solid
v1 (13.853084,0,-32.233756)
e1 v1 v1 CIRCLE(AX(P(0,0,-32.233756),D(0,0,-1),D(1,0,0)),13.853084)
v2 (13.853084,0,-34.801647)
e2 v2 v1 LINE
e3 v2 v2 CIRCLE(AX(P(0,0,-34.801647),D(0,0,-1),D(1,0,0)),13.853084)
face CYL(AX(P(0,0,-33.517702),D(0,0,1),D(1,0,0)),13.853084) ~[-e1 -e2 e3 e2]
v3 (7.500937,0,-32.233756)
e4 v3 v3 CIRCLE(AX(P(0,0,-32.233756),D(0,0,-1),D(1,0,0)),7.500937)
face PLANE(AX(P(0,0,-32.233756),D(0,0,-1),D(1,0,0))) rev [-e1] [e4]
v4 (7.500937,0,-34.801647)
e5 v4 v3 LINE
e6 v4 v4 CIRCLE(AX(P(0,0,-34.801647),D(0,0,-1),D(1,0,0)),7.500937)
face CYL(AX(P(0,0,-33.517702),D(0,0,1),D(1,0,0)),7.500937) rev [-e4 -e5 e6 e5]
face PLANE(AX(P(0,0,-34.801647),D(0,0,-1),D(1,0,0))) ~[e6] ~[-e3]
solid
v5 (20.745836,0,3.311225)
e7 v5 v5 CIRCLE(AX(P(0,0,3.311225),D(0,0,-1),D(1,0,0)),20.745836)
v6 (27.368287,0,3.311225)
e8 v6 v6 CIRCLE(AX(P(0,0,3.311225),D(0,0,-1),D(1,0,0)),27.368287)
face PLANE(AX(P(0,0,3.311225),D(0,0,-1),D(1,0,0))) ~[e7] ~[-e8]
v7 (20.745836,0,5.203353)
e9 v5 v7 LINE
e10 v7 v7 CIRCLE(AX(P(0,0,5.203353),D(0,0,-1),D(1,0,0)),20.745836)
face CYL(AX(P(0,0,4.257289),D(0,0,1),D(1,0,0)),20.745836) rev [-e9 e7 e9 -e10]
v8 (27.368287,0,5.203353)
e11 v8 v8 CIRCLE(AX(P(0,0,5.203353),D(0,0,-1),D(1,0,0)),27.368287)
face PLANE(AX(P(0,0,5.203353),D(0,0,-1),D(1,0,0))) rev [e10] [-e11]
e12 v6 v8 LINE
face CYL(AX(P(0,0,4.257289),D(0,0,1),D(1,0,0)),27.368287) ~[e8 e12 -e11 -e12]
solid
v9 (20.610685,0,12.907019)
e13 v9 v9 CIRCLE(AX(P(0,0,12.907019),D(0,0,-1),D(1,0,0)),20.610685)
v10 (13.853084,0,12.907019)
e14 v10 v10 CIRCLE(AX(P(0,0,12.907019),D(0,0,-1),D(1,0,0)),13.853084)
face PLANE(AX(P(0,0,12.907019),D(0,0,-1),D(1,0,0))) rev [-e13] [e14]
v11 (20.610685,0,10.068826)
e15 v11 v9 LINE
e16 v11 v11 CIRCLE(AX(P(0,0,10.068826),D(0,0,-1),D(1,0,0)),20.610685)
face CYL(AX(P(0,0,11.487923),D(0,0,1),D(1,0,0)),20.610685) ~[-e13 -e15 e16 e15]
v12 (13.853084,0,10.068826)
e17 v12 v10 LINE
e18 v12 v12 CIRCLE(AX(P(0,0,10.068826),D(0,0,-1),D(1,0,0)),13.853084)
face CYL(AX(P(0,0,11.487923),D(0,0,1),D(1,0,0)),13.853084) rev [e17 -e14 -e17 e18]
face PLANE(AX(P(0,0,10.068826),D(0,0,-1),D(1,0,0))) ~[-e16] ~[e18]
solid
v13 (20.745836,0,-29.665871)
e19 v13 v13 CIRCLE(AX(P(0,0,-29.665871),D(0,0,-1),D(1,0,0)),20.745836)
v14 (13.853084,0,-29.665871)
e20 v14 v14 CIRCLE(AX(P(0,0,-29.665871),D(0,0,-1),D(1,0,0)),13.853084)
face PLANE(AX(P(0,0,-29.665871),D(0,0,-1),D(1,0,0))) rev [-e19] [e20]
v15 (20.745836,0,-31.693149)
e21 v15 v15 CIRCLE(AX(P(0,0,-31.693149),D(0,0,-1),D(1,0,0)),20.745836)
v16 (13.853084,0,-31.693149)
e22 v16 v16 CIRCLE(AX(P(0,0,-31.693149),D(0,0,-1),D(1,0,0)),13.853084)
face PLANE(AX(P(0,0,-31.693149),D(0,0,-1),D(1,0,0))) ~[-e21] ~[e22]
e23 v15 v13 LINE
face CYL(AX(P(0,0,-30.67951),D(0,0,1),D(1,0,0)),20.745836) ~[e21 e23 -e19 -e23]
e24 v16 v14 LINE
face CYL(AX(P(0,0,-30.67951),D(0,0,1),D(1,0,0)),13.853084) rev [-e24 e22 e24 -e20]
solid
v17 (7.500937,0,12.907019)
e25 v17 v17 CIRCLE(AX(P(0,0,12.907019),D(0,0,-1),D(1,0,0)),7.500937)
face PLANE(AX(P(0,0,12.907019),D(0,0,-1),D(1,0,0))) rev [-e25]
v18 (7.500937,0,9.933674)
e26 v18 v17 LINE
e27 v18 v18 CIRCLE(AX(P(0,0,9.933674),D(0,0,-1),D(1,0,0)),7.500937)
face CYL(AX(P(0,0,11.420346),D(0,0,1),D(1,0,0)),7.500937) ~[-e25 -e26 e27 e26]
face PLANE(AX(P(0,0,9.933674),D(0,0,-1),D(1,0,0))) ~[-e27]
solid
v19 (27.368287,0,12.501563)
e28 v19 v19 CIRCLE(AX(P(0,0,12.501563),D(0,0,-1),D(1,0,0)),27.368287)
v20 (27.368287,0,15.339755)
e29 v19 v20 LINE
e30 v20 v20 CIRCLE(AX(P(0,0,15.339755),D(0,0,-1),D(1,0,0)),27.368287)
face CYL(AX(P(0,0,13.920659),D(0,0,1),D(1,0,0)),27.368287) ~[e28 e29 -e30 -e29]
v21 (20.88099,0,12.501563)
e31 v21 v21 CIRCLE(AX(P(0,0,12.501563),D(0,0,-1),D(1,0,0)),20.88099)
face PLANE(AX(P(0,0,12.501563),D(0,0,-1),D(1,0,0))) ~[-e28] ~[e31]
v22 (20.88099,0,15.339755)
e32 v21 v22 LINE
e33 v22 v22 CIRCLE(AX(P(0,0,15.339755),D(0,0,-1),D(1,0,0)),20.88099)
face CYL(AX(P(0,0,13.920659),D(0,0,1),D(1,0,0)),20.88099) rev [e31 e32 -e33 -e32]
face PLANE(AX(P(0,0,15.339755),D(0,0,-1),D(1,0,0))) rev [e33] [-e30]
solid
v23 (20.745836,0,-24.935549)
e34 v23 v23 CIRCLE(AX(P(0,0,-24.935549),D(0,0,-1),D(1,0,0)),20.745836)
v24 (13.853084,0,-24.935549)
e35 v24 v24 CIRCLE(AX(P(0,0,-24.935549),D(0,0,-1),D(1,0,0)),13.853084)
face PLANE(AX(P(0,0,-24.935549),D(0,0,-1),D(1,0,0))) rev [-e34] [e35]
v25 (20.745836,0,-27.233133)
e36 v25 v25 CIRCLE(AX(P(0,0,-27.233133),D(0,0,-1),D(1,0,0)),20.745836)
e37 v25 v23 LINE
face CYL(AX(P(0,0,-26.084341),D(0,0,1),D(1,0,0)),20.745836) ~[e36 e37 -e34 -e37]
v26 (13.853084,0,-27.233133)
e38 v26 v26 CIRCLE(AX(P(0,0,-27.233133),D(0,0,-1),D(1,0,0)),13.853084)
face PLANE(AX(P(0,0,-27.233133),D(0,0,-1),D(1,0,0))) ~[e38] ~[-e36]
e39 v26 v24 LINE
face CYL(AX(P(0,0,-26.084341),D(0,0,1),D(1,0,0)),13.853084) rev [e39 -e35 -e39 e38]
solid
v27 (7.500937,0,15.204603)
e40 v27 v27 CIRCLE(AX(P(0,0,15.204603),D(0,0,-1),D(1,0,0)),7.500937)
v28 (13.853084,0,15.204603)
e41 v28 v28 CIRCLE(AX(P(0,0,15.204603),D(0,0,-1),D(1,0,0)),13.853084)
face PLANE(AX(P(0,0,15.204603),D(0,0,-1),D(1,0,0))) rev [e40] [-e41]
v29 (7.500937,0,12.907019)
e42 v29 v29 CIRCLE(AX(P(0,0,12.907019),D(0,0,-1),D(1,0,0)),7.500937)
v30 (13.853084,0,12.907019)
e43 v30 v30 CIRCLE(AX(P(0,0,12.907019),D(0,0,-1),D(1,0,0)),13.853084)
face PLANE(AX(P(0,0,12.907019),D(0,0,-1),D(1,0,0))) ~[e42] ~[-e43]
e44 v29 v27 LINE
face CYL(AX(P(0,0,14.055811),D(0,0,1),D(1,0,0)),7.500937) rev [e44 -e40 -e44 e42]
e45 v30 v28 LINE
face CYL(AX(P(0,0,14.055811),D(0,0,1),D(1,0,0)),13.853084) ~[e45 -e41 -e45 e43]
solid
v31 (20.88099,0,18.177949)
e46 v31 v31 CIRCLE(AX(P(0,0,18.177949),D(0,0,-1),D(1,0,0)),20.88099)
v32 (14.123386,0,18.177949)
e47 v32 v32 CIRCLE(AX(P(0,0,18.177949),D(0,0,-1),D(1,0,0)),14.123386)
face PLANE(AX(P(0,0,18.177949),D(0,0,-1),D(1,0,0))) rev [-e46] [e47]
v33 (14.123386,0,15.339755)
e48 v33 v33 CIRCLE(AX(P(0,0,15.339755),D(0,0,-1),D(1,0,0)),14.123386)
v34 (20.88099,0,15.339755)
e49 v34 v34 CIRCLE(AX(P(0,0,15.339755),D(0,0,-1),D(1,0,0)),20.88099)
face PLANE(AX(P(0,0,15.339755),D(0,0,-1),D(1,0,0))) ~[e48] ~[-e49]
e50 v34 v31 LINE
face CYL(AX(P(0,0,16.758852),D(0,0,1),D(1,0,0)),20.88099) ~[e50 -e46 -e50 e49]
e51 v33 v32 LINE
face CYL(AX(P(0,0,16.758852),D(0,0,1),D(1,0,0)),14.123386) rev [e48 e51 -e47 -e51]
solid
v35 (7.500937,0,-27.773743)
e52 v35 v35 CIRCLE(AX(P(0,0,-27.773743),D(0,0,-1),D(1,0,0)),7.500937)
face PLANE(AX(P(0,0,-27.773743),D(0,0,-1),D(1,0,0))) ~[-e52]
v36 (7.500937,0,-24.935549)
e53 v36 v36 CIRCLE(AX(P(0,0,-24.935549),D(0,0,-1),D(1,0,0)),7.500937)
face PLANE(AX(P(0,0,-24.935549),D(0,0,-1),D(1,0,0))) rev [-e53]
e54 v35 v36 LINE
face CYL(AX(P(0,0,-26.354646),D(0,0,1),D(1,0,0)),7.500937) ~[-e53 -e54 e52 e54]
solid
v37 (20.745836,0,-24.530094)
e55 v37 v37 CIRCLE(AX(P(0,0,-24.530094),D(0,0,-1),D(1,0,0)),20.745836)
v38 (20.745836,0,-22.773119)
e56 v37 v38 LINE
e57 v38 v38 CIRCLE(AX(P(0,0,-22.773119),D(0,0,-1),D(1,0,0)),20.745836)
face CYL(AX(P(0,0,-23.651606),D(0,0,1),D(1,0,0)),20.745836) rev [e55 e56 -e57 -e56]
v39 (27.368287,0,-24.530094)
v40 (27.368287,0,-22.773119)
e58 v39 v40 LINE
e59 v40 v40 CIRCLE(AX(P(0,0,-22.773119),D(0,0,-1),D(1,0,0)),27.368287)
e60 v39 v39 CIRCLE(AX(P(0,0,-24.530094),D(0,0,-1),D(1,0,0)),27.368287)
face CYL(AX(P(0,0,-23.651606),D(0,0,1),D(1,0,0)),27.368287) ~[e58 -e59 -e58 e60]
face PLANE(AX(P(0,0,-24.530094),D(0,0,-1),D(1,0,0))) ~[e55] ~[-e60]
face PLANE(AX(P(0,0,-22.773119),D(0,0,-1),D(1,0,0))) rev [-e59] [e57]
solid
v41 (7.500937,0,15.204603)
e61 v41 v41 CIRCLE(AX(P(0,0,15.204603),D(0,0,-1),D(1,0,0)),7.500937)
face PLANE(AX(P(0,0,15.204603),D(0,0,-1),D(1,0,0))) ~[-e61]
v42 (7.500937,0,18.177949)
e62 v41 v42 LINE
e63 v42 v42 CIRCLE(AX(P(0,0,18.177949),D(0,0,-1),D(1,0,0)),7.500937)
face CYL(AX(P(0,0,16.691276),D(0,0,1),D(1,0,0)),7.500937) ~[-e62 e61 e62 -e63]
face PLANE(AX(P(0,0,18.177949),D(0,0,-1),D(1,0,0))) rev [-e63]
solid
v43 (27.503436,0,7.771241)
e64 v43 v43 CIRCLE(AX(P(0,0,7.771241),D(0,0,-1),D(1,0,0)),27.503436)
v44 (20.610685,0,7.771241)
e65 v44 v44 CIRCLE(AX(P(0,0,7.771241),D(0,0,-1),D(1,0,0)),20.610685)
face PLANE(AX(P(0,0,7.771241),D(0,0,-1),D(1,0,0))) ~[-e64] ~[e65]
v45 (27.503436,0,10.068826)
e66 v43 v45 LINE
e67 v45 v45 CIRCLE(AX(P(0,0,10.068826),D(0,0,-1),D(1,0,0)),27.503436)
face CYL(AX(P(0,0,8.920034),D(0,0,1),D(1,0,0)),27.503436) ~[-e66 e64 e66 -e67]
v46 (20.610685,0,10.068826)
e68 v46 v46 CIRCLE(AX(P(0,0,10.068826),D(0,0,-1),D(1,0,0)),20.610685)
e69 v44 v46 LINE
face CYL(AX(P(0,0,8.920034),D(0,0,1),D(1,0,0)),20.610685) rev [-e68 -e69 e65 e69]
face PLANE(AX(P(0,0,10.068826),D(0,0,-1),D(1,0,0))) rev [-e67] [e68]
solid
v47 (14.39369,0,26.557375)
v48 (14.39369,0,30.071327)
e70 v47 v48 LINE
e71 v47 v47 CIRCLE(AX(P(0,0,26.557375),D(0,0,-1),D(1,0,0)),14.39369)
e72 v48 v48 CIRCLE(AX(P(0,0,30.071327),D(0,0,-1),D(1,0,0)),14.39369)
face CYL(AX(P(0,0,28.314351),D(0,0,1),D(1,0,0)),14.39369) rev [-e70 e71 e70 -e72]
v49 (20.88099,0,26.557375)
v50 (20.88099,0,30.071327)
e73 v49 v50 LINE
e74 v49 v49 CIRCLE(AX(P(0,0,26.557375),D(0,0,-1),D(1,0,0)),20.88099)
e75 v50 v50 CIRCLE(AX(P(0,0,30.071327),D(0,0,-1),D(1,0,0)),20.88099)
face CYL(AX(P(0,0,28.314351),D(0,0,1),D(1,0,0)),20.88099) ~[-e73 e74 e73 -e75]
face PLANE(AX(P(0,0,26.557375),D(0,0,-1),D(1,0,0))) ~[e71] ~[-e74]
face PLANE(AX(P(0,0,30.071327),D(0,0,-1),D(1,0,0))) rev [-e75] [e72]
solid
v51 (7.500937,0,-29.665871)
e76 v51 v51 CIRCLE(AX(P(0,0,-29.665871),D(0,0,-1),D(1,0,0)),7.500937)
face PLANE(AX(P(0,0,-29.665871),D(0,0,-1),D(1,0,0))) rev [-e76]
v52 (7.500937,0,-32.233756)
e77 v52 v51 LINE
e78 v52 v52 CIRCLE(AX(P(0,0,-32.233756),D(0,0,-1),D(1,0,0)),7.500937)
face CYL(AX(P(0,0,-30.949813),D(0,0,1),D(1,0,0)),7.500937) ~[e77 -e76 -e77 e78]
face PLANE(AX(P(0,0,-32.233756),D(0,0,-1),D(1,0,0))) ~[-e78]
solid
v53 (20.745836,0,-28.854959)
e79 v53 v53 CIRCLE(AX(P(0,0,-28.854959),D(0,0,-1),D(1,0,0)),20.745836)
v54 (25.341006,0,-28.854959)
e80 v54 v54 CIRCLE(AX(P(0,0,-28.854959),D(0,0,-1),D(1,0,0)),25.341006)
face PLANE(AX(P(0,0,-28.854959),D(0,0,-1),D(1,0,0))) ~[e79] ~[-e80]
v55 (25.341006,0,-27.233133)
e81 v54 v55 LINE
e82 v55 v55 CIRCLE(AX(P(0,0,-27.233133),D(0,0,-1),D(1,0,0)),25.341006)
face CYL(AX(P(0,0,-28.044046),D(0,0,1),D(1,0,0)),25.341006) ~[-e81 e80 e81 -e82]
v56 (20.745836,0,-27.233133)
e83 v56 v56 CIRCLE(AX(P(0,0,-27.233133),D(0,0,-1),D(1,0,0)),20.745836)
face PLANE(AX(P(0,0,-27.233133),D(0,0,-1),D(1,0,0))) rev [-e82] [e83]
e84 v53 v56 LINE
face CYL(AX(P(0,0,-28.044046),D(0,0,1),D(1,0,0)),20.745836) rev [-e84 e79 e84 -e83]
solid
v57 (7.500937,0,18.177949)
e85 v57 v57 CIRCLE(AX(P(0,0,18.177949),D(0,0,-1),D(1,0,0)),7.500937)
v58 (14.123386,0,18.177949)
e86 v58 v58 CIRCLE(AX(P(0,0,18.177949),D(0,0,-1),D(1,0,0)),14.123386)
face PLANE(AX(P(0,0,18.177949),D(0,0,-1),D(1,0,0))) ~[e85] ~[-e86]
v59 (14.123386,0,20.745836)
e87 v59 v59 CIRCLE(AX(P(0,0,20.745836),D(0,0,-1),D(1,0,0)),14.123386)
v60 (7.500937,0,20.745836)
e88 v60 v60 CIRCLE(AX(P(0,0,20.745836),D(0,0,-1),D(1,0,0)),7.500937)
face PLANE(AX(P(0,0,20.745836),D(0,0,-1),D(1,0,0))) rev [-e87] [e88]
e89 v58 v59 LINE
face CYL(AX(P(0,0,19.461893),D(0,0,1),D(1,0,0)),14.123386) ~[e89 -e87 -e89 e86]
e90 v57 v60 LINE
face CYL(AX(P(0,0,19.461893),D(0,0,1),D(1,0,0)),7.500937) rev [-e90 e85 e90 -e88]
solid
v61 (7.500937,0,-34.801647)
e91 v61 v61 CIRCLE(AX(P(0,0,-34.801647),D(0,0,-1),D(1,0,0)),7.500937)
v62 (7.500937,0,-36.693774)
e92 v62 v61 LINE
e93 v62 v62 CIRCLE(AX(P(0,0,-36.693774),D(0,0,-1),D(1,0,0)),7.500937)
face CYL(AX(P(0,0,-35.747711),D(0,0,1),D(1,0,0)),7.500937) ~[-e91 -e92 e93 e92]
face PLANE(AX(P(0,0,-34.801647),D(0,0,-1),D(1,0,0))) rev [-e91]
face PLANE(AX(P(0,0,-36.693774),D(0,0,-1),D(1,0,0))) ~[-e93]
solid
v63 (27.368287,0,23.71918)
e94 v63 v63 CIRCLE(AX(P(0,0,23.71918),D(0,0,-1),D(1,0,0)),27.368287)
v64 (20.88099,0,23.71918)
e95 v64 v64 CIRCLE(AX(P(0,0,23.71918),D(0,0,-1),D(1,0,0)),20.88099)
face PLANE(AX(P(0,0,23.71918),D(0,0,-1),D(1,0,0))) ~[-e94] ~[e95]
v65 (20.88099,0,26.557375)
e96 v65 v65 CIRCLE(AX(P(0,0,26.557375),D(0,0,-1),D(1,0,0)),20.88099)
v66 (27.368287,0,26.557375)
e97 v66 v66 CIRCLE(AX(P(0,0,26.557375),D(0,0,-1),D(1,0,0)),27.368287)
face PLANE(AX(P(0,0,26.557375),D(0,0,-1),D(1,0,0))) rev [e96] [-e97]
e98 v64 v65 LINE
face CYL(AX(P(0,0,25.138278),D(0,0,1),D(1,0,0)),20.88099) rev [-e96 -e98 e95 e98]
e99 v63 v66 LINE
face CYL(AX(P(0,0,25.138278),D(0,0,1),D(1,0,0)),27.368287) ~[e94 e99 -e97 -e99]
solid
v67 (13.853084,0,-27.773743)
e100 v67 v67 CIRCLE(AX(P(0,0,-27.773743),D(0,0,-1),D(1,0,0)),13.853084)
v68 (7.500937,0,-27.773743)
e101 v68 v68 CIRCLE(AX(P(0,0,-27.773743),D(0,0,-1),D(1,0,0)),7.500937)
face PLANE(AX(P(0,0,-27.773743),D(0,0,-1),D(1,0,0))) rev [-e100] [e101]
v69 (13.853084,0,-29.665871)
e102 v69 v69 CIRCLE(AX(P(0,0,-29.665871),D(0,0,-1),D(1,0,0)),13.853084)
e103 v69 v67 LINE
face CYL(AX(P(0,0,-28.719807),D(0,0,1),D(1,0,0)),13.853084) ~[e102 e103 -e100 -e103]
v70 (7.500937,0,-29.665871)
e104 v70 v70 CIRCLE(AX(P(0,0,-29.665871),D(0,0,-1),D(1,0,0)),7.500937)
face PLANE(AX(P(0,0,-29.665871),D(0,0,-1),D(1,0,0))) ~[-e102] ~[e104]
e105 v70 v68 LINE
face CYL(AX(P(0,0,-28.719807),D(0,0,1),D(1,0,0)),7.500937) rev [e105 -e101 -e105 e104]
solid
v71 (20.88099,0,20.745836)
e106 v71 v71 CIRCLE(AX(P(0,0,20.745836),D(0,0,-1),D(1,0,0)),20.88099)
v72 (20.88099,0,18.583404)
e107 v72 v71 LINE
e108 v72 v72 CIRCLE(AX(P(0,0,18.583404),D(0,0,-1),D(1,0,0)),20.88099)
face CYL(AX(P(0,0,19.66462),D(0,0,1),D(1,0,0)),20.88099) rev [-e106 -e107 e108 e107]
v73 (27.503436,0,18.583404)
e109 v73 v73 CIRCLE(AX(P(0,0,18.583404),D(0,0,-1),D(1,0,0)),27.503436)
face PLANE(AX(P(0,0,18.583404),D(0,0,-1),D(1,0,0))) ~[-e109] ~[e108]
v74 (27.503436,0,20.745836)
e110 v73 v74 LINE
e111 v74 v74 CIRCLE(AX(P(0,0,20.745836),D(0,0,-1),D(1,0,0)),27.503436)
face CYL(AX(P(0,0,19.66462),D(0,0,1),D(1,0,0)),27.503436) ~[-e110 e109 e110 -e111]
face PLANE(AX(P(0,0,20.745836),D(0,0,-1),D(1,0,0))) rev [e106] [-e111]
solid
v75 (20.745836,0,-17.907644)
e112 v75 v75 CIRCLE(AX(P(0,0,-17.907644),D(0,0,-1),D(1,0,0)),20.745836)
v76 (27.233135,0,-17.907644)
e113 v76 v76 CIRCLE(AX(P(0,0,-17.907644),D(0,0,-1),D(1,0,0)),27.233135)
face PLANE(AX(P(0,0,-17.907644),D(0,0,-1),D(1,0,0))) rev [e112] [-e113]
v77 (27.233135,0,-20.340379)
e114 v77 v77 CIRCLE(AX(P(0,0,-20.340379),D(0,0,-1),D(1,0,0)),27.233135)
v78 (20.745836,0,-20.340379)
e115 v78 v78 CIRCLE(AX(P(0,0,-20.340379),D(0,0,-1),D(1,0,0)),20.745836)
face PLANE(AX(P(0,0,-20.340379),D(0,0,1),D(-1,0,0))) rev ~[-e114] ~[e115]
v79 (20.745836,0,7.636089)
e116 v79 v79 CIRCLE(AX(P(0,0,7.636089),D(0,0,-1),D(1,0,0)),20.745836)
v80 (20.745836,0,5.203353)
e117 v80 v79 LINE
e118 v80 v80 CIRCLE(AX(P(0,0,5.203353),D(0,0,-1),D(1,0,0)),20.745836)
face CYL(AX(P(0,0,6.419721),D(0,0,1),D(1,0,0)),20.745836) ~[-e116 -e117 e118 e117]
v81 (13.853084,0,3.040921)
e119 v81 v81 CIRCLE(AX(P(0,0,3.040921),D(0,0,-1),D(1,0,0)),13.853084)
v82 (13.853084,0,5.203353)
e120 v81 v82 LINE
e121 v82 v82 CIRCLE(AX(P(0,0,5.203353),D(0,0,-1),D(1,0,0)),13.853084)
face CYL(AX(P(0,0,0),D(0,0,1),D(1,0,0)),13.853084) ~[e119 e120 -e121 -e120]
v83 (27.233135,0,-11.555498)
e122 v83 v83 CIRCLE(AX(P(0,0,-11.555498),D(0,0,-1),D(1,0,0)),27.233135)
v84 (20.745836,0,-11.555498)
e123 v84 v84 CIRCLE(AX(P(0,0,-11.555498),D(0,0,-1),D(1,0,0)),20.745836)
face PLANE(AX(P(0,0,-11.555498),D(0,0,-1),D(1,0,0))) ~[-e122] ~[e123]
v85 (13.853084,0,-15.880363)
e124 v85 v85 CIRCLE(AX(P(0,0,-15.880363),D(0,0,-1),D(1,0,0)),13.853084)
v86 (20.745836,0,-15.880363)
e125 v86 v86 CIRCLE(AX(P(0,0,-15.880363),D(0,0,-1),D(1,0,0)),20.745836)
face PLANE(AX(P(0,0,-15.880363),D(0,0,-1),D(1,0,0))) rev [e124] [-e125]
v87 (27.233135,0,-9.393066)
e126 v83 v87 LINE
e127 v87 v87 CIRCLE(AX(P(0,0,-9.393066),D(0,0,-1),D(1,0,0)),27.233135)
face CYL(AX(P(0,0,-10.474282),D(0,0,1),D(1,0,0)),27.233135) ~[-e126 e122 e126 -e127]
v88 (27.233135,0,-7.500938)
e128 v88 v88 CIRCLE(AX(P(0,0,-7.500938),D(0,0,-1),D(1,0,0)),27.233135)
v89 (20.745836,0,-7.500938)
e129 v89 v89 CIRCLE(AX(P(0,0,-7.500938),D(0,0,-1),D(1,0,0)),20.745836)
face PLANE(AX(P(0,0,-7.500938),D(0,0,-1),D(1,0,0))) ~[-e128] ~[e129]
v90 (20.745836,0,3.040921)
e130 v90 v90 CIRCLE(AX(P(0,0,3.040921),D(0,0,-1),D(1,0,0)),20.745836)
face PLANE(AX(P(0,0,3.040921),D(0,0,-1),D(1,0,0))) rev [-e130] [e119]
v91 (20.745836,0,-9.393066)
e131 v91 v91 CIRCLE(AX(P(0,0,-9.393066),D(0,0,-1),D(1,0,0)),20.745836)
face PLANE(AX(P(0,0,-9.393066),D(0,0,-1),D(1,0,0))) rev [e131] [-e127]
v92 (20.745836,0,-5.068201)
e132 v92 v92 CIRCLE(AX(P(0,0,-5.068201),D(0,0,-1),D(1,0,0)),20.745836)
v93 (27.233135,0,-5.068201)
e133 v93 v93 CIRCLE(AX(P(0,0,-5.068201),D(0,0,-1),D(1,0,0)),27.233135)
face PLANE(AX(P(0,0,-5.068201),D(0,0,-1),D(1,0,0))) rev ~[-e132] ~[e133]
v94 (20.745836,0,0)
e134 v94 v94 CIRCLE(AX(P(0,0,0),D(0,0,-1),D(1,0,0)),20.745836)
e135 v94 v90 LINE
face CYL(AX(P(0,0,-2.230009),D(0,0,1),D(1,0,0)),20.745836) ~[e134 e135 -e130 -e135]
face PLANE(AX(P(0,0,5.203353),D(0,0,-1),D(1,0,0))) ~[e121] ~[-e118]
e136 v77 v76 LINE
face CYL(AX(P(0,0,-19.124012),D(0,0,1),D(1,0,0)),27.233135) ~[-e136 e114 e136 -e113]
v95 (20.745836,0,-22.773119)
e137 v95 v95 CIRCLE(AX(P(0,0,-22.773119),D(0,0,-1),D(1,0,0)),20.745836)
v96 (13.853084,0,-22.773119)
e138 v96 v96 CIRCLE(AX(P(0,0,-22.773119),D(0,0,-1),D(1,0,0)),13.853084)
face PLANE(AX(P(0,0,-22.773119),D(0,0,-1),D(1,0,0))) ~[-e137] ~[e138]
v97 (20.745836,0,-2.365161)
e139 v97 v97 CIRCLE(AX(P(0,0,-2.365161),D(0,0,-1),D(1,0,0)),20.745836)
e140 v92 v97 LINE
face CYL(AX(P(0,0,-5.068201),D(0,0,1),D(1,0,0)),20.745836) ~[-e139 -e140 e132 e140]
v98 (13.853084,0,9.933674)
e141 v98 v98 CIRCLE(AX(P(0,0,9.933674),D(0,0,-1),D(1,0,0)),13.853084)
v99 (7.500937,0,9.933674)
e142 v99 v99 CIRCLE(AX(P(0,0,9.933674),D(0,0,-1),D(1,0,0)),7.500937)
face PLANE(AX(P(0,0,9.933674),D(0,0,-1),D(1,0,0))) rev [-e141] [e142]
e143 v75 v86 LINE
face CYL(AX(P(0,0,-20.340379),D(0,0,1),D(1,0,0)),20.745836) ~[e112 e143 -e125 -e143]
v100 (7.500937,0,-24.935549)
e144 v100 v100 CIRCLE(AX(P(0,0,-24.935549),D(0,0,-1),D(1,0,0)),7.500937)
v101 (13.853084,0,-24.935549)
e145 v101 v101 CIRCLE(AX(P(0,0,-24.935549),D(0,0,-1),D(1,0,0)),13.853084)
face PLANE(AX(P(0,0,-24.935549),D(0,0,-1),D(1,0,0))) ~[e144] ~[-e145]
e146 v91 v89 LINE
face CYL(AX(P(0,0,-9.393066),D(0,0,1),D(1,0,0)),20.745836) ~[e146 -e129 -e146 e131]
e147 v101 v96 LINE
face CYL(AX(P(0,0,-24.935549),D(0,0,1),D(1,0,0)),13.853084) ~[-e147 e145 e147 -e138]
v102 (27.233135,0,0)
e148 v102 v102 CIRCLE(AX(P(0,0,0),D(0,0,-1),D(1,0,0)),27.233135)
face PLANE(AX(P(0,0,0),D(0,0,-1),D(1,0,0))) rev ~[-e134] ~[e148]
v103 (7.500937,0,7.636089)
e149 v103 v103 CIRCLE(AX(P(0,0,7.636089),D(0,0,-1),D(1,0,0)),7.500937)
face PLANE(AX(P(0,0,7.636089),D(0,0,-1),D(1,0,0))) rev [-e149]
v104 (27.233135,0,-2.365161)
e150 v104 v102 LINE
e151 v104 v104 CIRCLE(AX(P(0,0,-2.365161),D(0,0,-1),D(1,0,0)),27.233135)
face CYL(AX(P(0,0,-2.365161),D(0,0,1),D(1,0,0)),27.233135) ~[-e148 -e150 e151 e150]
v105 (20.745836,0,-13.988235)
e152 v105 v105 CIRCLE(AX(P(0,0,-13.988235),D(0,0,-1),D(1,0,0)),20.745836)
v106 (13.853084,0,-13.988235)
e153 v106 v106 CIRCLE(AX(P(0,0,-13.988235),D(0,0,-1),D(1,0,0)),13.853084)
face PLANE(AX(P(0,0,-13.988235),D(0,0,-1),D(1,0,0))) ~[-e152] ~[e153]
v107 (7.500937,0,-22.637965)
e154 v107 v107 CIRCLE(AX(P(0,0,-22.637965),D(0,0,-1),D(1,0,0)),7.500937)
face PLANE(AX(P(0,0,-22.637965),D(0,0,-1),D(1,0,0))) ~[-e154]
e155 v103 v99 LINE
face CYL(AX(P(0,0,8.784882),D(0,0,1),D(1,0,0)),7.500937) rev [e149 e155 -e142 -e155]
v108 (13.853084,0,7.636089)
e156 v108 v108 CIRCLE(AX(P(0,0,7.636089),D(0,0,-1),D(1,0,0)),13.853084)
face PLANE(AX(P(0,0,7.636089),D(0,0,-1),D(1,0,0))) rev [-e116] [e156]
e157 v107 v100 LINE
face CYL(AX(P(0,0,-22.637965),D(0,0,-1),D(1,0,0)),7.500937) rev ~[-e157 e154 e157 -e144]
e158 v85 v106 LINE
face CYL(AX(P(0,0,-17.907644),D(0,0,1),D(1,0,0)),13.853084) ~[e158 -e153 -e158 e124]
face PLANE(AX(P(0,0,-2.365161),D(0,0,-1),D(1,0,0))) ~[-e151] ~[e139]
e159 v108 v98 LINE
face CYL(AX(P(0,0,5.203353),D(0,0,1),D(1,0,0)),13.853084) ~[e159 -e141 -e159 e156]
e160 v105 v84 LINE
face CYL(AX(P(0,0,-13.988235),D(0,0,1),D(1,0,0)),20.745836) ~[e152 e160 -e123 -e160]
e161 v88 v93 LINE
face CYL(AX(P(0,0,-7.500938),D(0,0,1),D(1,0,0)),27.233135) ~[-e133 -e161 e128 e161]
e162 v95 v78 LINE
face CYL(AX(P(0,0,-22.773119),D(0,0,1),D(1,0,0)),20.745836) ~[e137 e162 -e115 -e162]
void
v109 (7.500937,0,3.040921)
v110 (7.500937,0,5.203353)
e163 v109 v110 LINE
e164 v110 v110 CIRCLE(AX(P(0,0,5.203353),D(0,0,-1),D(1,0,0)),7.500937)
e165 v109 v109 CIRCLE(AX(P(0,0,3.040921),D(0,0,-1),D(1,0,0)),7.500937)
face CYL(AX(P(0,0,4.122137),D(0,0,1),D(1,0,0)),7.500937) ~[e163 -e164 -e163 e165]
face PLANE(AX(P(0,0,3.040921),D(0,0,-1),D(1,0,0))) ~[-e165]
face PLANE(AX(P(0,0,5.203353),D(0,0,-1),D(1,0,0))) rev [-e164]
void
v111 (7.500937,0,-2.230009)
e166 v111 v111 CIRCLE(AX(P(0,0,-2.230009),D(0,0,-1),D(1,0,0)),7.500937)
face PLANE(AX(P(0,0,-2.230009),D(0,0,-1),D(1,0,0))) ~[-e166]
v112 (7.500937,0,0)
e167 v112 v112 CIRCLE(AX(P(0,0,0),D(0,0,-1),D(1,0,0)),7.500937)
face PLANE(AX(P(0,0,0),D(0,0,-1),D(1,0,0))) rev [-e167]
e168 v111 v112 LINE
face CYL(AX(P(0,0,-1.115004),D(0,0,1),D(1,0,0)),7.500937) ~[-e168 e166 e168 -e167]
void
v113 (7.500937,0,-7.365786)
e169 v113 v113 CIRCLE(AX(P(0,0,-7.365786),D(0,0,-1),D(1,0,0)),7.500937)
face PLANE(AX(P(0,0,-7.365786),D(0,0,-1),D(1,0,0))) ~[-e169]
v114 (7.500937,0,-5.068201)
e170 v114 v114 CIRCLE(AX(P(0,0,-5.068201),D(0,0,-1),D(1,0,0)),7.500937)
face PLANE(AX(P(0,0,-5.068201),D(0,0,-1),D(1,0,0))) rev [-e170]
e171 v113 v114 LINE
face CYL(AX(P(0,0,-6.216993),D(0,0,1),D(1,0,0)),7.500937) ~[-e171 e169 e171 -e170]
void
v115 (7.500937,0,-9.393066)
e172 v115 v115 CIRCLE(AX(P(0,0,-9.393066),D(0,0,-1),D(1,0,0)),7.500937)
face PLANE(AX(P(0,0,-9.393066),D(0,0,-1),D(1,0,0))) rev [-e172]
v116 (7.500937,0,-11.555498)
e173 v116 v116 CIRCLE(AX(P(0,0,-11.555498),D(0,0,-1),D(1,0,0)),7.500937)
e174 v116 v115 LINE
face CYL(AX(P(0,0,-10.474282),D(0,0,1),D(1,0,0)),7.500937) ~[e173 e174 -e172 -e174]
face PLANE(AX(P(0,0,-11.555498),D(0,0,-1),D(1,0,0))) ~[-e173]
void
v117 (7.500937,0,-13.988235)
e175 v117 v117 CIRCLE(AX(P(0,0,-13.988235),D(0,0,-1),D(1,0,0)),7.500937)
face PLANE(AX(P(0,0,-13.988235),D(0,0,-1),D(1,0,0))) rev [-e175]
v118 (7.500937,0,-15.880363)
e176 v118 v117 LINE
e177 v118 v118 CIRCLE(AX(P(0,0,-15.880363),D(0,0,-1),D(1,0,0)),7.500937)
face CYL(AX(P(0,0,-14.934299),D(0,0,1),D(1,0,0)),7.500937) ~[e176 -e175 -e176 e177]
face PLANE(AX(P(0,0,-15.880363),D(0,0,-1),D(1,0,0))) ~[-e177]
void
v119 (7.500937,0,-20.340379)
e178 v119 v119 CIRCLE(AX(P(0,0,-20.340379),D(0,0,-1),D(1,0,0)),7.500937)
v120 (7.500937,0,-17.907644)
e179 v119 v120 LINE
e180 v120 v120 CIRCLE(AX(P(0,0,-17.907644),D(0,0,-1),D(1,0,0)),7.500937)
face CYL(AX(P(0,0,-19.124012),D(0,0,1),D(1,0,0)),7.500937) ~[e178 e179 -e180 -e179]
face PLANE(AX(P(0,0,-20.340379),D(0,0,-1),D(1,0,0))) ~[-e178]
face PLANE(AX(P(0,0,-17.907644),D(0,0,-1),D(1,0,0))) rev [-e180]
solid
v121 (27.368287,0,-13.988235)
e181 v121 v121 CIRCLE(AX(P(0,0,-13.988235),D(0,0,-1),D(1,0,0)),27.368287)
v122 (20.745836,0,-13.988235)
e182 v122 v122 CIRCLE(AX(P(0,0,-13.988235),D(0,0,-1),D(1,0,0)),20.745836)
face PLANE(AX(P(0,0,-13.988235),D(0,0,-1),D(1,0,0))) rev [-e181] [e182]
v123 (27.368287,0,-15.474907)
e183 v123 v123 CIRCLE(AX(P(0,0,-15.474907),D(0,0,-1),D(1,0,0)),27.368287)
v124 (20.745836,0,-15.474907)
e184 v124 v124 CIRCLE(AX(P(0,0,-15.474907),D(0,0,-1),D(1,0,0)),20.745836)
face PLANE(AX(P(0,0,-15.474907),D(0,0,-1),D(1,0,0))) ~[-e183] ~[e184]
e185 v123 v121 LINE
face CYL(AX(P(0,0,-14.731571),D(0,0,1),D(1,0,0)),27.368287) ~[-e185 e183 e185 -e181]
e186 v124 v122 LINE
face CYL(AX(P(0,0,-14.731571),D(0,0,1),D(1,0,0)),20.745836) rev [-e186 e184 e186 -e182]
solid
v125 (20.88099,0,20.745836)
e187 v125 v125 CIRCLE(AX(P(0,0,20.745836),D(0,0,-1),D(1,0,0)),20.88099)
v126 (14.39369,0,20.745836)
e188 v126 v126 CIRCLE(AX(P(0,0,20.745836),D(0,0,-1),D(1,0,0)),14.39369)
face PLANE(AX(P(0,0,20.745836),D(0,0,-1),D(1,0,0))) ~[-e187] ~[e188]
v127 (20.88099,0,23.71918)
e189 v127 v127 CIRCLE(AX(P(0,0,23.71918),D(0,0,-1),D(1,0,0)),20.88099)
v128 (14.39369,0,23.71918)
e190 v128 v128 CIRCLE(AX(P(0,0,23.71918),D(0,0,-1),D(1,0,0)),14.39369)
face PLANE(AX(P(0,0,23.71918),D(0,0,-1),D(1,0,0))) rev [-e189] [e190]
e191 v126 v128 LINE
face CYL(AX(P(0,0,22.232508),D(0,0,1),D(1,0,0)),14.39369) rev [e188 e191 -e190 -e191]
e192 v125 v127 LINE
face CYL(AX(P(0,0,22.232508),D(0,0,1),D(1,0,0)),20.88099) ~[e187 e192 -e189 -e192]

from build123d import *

# Parameters (mm, degrees)
F1_W    = 6.4872968942
F1_H    = 2.8381925076
F1_W_2  = 6.7576039582
F1_H_2  = 2.8381934389
F1_W_3  = 6.8927519023
F1_H_3  = 2.2975848988
F1_W_4  = 6.757600233
F1_W_5  = 6.6224504262
F1_H_4  = 1.8921284936
F1_H_5  = 1.4866720885
F1_H_6  = 1.7569754273
F1_W_6  = 4.5951697975
F1_H_7  = 1.6218256205
F1_H_8  = 2.2975839674
F1_H_9  = 2.027278766
F1_W_7  = 7.5009372085
F1_H_10 = 1.8921270967
F1_W_8  = 6.3521470875
F1_H_11 = 2.5678910315
F1_H_12 = 2.5678854436
F1_H_13 = 2.8381943703
F1_H_14 = 2.2975844331
F1_H_15 = 2.4327361025
F1_H_16 = 2.1624325309
F1_H_17 = 3.0409207102
F1_H_18 = 2.2300085984
F1_H_19 = 2.0272806287
F1_H_20 = 2.1624322981
F1_H_21 = 2.4327365682
F1_W_9  = 6.4872987568
F1_H_22 = 1.892128028
F1_H_23 = 2.4327356368
F1_H_24 = 2.2975858301
F1_H_25 = 2.9733451083
F1_H_26 = 2.9733460397
F1_W_10 = 6.6224485636
F1_H_27 = 2.5678873062
F1_W_11 = 6.6224467009
F1_W_12 = 6.4872996882
F1_H_28 = 2.973344177
F1_H_29 = 3.5139527172


with BuildPart() as f2:
    # F1 (on Front) → F2 (revolve)
    with BuildSketch(Plane.XZ):
        with Locations((24.1246381775, 13.9206591994)):
            Rectangle(F1_W, F1_H)
    revolve(axis=Axis((0, 0, 0), (0, 0, -1)))


with BuildPart() as f2b:
    # F1 (on Front) → F2, piece 2 (revolve)
    with BuildSketch(Plane.XZ):
        with Locations((17.5021877512, 16.7588521726)):
            Rectangle(F1_W_2, F1_H_2)
    revolve(axis=Axis((0, 0, 0), (0, 0, -1)))


with BuildPart() as f2c:
    # F1 (on Front) → F2, piece 3 (revolve)
    with BuildSketch(Plane.XZ):
        with Locations((24.0570604801, 8.920033928)):
            Rectangle(F1_W_3, F1_H_3)
    revolve(axis=Axis((0, 0, 0), (0, 0, -1)))


with BuildPart() as f2d:
    # F1 (on Front) → F2, piece 4 (revolve)
    with BuildSketch(Plane.XZ):
        with Locations((17.2318844125, 11.4879226312)):
            Rectangle(F1_W_4, F1_H)
    revolve(axis=Axis((0, 0, 0), (0, 0, -1)))


with BuildPart() as f2e:
    # F1 (on Front) → F2, piece 5 (revolve)
    with BuildSketch(Plane.XZ):
        with Locations((24.0570614114, 4.2572889943)):
            Rectangle(F1_W_5, F1_H_4)
    revolve(axis=Axis((0, 0, 0), (0, 0, -1)))


with BuildPart() as f2f:
    # F1 (on Front) → F2, piece 6 (revolve)
    with BuildSketch(Plane.XZ):
        with Locations((24.0570614114, -14.7315710783)):
            Rectangle(F1_W_5, F1_H_5)
    revolve(axis=Axis((0, 0, 0), (0, 0, -1)))


with BuildPart() as f2g:
    # F1 (on Front) → F2, piece 7 (revolve)
    with BuildSketch(Plane.XZ):
        with Locations((24.0570614114, -23.6516064033)):
            Rectangle(F1_W_5, F1_H_6)
    revolve(axis=Axis((0, 0, 0), (0, 0, -1)))


with BuildPart() as f2h:
    # F1 (on Front) → F2, piece 8 (revolve)
    with BuildSketch(Plane.XZ):
        with Locations((23.0434210971, -28.0440459028)):
            Rectangle(F1_W_6, F1_H_7)
    revolve(axis=Axis((0, 0, 0), (0, 0, -1)))


with BuildPart() as f2i:
    # F1 (on Front) → F2, piece 9 (revolve)
    with BuildSketch(Plane.XZ):
        with Locations((17.2994602472, -26.0843411088)):
            Rectangle(F1_W_3, F1_H_8)
    revolve(axis=Axis((0, 0, 0), (0, 0, -1)))


with BuildPart() as f2j:
    # F1 (on Front) → F2, piece 10 (revolve)
    with BuildSketch(Plane.XZ):
        with Locations((17.2994602472, -30.679509975)):
            Rectangle(F1_W_3, F1_H_9)
    revolve(axis=Axis((0, 0, 0), (0, 0, -1)))


with BuildPart() as f2k:
    # F1 (on Front) → F2, piece 11 (revolve)
    with BuildSketch(Plane.XZ):
        with Locations((3.7504686043, -35.7477106154)):
            Rectangle(F1_W_7, F1_H_10)
    revolve(axis=Axis((0, 0, 0), (0, 0, -1)))


with BuildPart() as f2l:
    # F1 (on Front) → F2, piece 12 (revolve)
    with BuildSketch(Plane.XZ):
        with Locations((10.6770107523, -33.5177015513)):
            Rectangle(F1_W_8, F1_H_11)
    revolve(axis=Axis((0, 0, 0), (0, 0, -1)))


with BuildPart() as f2m:
    # F1 (on Front) → F2, piece 13 (revolve)
    with BuildSketch(Plane.XZ):
        with Locations((3.7504686043, -30.9498133138)):
            Rectangle(F1_W_7, F1_H_12)
    revolve(axis=Axis((0, 0, 0), (0, 0, -1)))


with BuildPart() as f2n:
    # F1 (on Front) → F2, piece 14 (revolve)
    with BuildSketch(Plane.XZ):
        with Locations((10.6770107523, -28.7198070437)):
            Rectangle(F1_W_8, F1_H_10)
    revolve(axis=Axis((0, 0, 0), (0, 0, -1)))


with BuildPart() as f2o:
    # F1 (on Front) → F2, piece 15 (revolve)
    with BuildSketch(Plane.XZ):
        with Locations((3.7504686043, -26.3546463102)):
            Rectangle(F1_W_7, F1_H_13)
    revolve(axis=Axis((0, 0, 0), (0, 0, -1)))


with BuildPart() as f2p:
    # F1 (on Front) → F2, piece 16 (revolve)
    with BuildSketch(Plane.XZ):
        with Locations((10.6770107523, 8.7848815601)):
            Rectangle(F1_W_8, F1_H_14)
        with Locations((3.7504686043, 6.4197212923)):
            Rectangle(F1_W_7, F1_H_15)
        with Locations((10.6770107523, 6.4197212923)):
            Rectangle(F1_W_8, F1_H_15)
        with Locations((17.2994602472, 6.4197212923)):
            Rectangle(F1_W_3, F1_H_15)
        with Locations((10.6770107523, 4.1221369756)):
            Rectangle(F1_W_8, F1_H_16)
        with Locations((3.7504686043, 1.5204603551)):
            Rectangle(F1_W_7, F1_H_17)
        with Locations((10.6770107523, 1.5204603551)):
            Rectangle(F1_W_8, F1_H_17)
        with Locations((17.2994602472, 1.5204603551)):
            Rectangle(F1_W_3, F1_H_17)
        with Locations((10.6770107523, -1.1150042992)):
            Rectangle(F1_W_8, F1_H_18)
        with Locations((17.2994602472, -1.1150042992)):
            Rectangle(F1_W_3, F1_H_18)
        with Locations((3.7504686043, -3.6491048522)):
            Rectangle(F1_W_7, F1_H)
        with Locations((10.6770107523, -3.6491048522)):
            Rectangle(F1_W_8, F1_H)
        Polygon((27.2331349552, 0), (20.7458361983, 0), (20.7458361983, -2.2300085984), (20.7458361983, -2.3651605006), (27.2331349552, -2.3651605006), align=None)
        Polygon((20.7458361983, -2.2300085984), (13.853084296, -2.2300085984), (13.853084296, -5.068201106), (20.7458361983, -5.068201106), (20.7458361983, -2.3651605006), align=None)
        with Locations((10.6770107523, -6.2169933226)):
            Rectangle(F1_W_8, F1_H_14)
        with Locations((17.2994602472, -6.2169933226)):
            Rectangle(F1_W_3, F1_H_14)
        with Locations((3.7504686043, -8.3794258535)):
            Rectangle(F1_W_7, F1_H_19)
        with Locations((10.6770107523, -8.3794258535)):
            Rectangle(F1_W_8, F1_H_19)
        Polygon((20.7458361983, -7.3657855392), (13.853084296, -7.3657855392), (13.853084296, -9.3930661678), (20.7458361983, -9.3930661678), (20.7458361983, -7.5009376742), align=None)
        Polygon((27.2331349552, -5.068201106), (20.7458361983, -5.068201106), (20.7458361983, -7.3657855392), (20.7458361983, -7.5009376742), (27.2331349552, -7.5009376742), align=None)
        with Locations((10.6770107523, -10.4742823169)):
            Rectangle(F1_W_8, F1_H_20)
        with Locations((17.2994602472, -10.4742823169)):
            Rectangle(F1_W_3, F1_H_20)
        with Locations((3.7504686043, -12.77186675)):
            Rectangle(F1_W_7, F1_H_21)
        with Locations((10.6770107523, -12.77186675)):
            Rectangle(F1_W_8, F1_H_21)
        with Locations((17.2994602472, -12.77186675)):
            Rectangle(F1_W_3, F1_H_21)
        with Locations((23.9894855767, -10.4742823169)):
            Rectangle(F1_W_9, F1_H_20)
        with Locations((10.6770107523, -14.934299048)):
            Rectangle(F1_W_8, F1_H_22)
        with Locations((3.7504686043, -16.8940033764)):
            Rectangle(F1_W_7, F1_H_19)
        with Locations((10.6770107523, -16.8940033764)):
            Rectangle(F1_W_8, F1_H_19)
        with Locations((17.2994602472, -16.8940033764)):
            Rectangle(F1_W_3, F1_H_19)
        with Locations((10.6770107523, -19.1240115091)):
            Rectangle(F1_W_8, F1_H_23)
        with Locations((17.2994602472, -19.1240115091)):
            Rectangle(F1_W_3, F1_H_23)
        with Locations((3.7504686043, -21.4891722426)):
            Rectangle(F1_W_7, F1_H_24)
        with Locations((10.6770107523, -21.4891722426)):
            Rectangle(F1_W_8, F1_H_24)
        with Locations((23.9894855767, -19.1240115091)):
            Rectangle(F1_W_9, F1_H_23)
        Polygon((20.7458361983, -20.3403793275), (13.853084296, -20.3403793275), (13.853084296, -22.6379651576), (13.853084296, -22.7731186897), (20.7458361983, -22.7731186897), align=None)
        Polygon((13.853084296, -22.6379651576), (7.5009372085, -22.6379651576), (7.5009372085, -24.9355491251), (13.853084296, -24.9355491251), (13.853084296, -22.7731186897), align=None)
    revolve(axis=Axis((0, 0, 0), (0, 0, -1)))


with BuildPart() as f2q:
    # F1 (on Front) → F2, piece 17 (revolve)
    with BuildSketch(Plane.XZ):
        with Locations((3.7504686043, 11.4203463309)):
            Rectangle(F1_W_7, F1_H_25)
    revolve(axis=Axis((0, 0, 0), (0, 0, -1)))


with BuildPart() as f2r:
    # F1 (on Front) → F2, piece 18 (revolve)
    with BuildSketch(Plane.XZ):
        with Locations((10.6770107523, 14.0558108687)):
            Rectangle(F1_W_8, F1_H_8)
    revolve(axis=Axis((0, 0, 0), (0, 0, -1)))


with BuildPart() as f2s:
    # F1 (on Front) → F2, piece 19 (revolve)
    with BuildSketch(Plane.XZ):
        with Locations((3.7504686043, 16.6912758723)):
            Rectangle(F1_W_7, F1_H_26)
    revolve(axis=Axis((0, 0, 0), (0, 0, -1)))


with BuildPart() as f2t:
    # F1 (on Front) → F2, piece 20 (revolve)
    with BuildSketch(Plane.XZ):
        with Locations((10.8121614903, 19.4618925452)):
            Rectangle(F1_W_10, F1_H_27)
    revolve(axis=Axis((0, 0, 0), (0, 0, -1)))


with BuildPart() as f2u:
    # F1 (on Front) → F2, piece 21 (revolve)
    with BuildSketch(Plane.XZ):
        with Locations((24.1922130808, 19.6646200493)):
            Rectangle(F1_W_11, F1_H_20)
    revolve(axis=Axis((0, 0, 0), (0, 0, -1)))


with BuildPart() as f2v:
    # F1 (on Front) → F2, piece 22 (revolve)
    with BuildSketch(Plane.XZ):
        with Locations((17.6373398863, 22.2325082868)):
            Rectangle(F1_W_12, F1_H_28)
    revolve(axis=Axis((0, 0, 0), (0, 0, -1)))


with BuildPart() as f2w:
    # F1 (on Front) → F2, piece 23 (revolve)
    with BuildSketch(Plane.XZ):
        with Locations((24.1246381775, 25.1382775605)):
            Rectangle(F1_W, F1_H_13)
    revolve(axis=Axis((0, 0, 0), (0, 0, -1)))


with BuildPart() as f2x:
    # F1 (on Front) → F2, piece 24 (revolve)
    with BuildSketch(Plane.XZ):
        with Locations((17.6373398863, 28.3143511042)):
            Rectangle(F1_W_12, F1_H_29)
    revolve(axis=Axis((0, 0, 0), (0, 0, -1)))


solid = Compound([f2.part, f2b.part, f2c.part, f2d.part, f2e.part, f2f.part, f2g.part, f2h.part, f2i.part, f2j.part, f2k.part, f2l.part, f2m.part, f2n.part, f2o.part, f2p.part, f2q.part, f2r.part, f2s.part, f2t.part, f2u.part, f2v.part, f2w.part, f2x.part])
